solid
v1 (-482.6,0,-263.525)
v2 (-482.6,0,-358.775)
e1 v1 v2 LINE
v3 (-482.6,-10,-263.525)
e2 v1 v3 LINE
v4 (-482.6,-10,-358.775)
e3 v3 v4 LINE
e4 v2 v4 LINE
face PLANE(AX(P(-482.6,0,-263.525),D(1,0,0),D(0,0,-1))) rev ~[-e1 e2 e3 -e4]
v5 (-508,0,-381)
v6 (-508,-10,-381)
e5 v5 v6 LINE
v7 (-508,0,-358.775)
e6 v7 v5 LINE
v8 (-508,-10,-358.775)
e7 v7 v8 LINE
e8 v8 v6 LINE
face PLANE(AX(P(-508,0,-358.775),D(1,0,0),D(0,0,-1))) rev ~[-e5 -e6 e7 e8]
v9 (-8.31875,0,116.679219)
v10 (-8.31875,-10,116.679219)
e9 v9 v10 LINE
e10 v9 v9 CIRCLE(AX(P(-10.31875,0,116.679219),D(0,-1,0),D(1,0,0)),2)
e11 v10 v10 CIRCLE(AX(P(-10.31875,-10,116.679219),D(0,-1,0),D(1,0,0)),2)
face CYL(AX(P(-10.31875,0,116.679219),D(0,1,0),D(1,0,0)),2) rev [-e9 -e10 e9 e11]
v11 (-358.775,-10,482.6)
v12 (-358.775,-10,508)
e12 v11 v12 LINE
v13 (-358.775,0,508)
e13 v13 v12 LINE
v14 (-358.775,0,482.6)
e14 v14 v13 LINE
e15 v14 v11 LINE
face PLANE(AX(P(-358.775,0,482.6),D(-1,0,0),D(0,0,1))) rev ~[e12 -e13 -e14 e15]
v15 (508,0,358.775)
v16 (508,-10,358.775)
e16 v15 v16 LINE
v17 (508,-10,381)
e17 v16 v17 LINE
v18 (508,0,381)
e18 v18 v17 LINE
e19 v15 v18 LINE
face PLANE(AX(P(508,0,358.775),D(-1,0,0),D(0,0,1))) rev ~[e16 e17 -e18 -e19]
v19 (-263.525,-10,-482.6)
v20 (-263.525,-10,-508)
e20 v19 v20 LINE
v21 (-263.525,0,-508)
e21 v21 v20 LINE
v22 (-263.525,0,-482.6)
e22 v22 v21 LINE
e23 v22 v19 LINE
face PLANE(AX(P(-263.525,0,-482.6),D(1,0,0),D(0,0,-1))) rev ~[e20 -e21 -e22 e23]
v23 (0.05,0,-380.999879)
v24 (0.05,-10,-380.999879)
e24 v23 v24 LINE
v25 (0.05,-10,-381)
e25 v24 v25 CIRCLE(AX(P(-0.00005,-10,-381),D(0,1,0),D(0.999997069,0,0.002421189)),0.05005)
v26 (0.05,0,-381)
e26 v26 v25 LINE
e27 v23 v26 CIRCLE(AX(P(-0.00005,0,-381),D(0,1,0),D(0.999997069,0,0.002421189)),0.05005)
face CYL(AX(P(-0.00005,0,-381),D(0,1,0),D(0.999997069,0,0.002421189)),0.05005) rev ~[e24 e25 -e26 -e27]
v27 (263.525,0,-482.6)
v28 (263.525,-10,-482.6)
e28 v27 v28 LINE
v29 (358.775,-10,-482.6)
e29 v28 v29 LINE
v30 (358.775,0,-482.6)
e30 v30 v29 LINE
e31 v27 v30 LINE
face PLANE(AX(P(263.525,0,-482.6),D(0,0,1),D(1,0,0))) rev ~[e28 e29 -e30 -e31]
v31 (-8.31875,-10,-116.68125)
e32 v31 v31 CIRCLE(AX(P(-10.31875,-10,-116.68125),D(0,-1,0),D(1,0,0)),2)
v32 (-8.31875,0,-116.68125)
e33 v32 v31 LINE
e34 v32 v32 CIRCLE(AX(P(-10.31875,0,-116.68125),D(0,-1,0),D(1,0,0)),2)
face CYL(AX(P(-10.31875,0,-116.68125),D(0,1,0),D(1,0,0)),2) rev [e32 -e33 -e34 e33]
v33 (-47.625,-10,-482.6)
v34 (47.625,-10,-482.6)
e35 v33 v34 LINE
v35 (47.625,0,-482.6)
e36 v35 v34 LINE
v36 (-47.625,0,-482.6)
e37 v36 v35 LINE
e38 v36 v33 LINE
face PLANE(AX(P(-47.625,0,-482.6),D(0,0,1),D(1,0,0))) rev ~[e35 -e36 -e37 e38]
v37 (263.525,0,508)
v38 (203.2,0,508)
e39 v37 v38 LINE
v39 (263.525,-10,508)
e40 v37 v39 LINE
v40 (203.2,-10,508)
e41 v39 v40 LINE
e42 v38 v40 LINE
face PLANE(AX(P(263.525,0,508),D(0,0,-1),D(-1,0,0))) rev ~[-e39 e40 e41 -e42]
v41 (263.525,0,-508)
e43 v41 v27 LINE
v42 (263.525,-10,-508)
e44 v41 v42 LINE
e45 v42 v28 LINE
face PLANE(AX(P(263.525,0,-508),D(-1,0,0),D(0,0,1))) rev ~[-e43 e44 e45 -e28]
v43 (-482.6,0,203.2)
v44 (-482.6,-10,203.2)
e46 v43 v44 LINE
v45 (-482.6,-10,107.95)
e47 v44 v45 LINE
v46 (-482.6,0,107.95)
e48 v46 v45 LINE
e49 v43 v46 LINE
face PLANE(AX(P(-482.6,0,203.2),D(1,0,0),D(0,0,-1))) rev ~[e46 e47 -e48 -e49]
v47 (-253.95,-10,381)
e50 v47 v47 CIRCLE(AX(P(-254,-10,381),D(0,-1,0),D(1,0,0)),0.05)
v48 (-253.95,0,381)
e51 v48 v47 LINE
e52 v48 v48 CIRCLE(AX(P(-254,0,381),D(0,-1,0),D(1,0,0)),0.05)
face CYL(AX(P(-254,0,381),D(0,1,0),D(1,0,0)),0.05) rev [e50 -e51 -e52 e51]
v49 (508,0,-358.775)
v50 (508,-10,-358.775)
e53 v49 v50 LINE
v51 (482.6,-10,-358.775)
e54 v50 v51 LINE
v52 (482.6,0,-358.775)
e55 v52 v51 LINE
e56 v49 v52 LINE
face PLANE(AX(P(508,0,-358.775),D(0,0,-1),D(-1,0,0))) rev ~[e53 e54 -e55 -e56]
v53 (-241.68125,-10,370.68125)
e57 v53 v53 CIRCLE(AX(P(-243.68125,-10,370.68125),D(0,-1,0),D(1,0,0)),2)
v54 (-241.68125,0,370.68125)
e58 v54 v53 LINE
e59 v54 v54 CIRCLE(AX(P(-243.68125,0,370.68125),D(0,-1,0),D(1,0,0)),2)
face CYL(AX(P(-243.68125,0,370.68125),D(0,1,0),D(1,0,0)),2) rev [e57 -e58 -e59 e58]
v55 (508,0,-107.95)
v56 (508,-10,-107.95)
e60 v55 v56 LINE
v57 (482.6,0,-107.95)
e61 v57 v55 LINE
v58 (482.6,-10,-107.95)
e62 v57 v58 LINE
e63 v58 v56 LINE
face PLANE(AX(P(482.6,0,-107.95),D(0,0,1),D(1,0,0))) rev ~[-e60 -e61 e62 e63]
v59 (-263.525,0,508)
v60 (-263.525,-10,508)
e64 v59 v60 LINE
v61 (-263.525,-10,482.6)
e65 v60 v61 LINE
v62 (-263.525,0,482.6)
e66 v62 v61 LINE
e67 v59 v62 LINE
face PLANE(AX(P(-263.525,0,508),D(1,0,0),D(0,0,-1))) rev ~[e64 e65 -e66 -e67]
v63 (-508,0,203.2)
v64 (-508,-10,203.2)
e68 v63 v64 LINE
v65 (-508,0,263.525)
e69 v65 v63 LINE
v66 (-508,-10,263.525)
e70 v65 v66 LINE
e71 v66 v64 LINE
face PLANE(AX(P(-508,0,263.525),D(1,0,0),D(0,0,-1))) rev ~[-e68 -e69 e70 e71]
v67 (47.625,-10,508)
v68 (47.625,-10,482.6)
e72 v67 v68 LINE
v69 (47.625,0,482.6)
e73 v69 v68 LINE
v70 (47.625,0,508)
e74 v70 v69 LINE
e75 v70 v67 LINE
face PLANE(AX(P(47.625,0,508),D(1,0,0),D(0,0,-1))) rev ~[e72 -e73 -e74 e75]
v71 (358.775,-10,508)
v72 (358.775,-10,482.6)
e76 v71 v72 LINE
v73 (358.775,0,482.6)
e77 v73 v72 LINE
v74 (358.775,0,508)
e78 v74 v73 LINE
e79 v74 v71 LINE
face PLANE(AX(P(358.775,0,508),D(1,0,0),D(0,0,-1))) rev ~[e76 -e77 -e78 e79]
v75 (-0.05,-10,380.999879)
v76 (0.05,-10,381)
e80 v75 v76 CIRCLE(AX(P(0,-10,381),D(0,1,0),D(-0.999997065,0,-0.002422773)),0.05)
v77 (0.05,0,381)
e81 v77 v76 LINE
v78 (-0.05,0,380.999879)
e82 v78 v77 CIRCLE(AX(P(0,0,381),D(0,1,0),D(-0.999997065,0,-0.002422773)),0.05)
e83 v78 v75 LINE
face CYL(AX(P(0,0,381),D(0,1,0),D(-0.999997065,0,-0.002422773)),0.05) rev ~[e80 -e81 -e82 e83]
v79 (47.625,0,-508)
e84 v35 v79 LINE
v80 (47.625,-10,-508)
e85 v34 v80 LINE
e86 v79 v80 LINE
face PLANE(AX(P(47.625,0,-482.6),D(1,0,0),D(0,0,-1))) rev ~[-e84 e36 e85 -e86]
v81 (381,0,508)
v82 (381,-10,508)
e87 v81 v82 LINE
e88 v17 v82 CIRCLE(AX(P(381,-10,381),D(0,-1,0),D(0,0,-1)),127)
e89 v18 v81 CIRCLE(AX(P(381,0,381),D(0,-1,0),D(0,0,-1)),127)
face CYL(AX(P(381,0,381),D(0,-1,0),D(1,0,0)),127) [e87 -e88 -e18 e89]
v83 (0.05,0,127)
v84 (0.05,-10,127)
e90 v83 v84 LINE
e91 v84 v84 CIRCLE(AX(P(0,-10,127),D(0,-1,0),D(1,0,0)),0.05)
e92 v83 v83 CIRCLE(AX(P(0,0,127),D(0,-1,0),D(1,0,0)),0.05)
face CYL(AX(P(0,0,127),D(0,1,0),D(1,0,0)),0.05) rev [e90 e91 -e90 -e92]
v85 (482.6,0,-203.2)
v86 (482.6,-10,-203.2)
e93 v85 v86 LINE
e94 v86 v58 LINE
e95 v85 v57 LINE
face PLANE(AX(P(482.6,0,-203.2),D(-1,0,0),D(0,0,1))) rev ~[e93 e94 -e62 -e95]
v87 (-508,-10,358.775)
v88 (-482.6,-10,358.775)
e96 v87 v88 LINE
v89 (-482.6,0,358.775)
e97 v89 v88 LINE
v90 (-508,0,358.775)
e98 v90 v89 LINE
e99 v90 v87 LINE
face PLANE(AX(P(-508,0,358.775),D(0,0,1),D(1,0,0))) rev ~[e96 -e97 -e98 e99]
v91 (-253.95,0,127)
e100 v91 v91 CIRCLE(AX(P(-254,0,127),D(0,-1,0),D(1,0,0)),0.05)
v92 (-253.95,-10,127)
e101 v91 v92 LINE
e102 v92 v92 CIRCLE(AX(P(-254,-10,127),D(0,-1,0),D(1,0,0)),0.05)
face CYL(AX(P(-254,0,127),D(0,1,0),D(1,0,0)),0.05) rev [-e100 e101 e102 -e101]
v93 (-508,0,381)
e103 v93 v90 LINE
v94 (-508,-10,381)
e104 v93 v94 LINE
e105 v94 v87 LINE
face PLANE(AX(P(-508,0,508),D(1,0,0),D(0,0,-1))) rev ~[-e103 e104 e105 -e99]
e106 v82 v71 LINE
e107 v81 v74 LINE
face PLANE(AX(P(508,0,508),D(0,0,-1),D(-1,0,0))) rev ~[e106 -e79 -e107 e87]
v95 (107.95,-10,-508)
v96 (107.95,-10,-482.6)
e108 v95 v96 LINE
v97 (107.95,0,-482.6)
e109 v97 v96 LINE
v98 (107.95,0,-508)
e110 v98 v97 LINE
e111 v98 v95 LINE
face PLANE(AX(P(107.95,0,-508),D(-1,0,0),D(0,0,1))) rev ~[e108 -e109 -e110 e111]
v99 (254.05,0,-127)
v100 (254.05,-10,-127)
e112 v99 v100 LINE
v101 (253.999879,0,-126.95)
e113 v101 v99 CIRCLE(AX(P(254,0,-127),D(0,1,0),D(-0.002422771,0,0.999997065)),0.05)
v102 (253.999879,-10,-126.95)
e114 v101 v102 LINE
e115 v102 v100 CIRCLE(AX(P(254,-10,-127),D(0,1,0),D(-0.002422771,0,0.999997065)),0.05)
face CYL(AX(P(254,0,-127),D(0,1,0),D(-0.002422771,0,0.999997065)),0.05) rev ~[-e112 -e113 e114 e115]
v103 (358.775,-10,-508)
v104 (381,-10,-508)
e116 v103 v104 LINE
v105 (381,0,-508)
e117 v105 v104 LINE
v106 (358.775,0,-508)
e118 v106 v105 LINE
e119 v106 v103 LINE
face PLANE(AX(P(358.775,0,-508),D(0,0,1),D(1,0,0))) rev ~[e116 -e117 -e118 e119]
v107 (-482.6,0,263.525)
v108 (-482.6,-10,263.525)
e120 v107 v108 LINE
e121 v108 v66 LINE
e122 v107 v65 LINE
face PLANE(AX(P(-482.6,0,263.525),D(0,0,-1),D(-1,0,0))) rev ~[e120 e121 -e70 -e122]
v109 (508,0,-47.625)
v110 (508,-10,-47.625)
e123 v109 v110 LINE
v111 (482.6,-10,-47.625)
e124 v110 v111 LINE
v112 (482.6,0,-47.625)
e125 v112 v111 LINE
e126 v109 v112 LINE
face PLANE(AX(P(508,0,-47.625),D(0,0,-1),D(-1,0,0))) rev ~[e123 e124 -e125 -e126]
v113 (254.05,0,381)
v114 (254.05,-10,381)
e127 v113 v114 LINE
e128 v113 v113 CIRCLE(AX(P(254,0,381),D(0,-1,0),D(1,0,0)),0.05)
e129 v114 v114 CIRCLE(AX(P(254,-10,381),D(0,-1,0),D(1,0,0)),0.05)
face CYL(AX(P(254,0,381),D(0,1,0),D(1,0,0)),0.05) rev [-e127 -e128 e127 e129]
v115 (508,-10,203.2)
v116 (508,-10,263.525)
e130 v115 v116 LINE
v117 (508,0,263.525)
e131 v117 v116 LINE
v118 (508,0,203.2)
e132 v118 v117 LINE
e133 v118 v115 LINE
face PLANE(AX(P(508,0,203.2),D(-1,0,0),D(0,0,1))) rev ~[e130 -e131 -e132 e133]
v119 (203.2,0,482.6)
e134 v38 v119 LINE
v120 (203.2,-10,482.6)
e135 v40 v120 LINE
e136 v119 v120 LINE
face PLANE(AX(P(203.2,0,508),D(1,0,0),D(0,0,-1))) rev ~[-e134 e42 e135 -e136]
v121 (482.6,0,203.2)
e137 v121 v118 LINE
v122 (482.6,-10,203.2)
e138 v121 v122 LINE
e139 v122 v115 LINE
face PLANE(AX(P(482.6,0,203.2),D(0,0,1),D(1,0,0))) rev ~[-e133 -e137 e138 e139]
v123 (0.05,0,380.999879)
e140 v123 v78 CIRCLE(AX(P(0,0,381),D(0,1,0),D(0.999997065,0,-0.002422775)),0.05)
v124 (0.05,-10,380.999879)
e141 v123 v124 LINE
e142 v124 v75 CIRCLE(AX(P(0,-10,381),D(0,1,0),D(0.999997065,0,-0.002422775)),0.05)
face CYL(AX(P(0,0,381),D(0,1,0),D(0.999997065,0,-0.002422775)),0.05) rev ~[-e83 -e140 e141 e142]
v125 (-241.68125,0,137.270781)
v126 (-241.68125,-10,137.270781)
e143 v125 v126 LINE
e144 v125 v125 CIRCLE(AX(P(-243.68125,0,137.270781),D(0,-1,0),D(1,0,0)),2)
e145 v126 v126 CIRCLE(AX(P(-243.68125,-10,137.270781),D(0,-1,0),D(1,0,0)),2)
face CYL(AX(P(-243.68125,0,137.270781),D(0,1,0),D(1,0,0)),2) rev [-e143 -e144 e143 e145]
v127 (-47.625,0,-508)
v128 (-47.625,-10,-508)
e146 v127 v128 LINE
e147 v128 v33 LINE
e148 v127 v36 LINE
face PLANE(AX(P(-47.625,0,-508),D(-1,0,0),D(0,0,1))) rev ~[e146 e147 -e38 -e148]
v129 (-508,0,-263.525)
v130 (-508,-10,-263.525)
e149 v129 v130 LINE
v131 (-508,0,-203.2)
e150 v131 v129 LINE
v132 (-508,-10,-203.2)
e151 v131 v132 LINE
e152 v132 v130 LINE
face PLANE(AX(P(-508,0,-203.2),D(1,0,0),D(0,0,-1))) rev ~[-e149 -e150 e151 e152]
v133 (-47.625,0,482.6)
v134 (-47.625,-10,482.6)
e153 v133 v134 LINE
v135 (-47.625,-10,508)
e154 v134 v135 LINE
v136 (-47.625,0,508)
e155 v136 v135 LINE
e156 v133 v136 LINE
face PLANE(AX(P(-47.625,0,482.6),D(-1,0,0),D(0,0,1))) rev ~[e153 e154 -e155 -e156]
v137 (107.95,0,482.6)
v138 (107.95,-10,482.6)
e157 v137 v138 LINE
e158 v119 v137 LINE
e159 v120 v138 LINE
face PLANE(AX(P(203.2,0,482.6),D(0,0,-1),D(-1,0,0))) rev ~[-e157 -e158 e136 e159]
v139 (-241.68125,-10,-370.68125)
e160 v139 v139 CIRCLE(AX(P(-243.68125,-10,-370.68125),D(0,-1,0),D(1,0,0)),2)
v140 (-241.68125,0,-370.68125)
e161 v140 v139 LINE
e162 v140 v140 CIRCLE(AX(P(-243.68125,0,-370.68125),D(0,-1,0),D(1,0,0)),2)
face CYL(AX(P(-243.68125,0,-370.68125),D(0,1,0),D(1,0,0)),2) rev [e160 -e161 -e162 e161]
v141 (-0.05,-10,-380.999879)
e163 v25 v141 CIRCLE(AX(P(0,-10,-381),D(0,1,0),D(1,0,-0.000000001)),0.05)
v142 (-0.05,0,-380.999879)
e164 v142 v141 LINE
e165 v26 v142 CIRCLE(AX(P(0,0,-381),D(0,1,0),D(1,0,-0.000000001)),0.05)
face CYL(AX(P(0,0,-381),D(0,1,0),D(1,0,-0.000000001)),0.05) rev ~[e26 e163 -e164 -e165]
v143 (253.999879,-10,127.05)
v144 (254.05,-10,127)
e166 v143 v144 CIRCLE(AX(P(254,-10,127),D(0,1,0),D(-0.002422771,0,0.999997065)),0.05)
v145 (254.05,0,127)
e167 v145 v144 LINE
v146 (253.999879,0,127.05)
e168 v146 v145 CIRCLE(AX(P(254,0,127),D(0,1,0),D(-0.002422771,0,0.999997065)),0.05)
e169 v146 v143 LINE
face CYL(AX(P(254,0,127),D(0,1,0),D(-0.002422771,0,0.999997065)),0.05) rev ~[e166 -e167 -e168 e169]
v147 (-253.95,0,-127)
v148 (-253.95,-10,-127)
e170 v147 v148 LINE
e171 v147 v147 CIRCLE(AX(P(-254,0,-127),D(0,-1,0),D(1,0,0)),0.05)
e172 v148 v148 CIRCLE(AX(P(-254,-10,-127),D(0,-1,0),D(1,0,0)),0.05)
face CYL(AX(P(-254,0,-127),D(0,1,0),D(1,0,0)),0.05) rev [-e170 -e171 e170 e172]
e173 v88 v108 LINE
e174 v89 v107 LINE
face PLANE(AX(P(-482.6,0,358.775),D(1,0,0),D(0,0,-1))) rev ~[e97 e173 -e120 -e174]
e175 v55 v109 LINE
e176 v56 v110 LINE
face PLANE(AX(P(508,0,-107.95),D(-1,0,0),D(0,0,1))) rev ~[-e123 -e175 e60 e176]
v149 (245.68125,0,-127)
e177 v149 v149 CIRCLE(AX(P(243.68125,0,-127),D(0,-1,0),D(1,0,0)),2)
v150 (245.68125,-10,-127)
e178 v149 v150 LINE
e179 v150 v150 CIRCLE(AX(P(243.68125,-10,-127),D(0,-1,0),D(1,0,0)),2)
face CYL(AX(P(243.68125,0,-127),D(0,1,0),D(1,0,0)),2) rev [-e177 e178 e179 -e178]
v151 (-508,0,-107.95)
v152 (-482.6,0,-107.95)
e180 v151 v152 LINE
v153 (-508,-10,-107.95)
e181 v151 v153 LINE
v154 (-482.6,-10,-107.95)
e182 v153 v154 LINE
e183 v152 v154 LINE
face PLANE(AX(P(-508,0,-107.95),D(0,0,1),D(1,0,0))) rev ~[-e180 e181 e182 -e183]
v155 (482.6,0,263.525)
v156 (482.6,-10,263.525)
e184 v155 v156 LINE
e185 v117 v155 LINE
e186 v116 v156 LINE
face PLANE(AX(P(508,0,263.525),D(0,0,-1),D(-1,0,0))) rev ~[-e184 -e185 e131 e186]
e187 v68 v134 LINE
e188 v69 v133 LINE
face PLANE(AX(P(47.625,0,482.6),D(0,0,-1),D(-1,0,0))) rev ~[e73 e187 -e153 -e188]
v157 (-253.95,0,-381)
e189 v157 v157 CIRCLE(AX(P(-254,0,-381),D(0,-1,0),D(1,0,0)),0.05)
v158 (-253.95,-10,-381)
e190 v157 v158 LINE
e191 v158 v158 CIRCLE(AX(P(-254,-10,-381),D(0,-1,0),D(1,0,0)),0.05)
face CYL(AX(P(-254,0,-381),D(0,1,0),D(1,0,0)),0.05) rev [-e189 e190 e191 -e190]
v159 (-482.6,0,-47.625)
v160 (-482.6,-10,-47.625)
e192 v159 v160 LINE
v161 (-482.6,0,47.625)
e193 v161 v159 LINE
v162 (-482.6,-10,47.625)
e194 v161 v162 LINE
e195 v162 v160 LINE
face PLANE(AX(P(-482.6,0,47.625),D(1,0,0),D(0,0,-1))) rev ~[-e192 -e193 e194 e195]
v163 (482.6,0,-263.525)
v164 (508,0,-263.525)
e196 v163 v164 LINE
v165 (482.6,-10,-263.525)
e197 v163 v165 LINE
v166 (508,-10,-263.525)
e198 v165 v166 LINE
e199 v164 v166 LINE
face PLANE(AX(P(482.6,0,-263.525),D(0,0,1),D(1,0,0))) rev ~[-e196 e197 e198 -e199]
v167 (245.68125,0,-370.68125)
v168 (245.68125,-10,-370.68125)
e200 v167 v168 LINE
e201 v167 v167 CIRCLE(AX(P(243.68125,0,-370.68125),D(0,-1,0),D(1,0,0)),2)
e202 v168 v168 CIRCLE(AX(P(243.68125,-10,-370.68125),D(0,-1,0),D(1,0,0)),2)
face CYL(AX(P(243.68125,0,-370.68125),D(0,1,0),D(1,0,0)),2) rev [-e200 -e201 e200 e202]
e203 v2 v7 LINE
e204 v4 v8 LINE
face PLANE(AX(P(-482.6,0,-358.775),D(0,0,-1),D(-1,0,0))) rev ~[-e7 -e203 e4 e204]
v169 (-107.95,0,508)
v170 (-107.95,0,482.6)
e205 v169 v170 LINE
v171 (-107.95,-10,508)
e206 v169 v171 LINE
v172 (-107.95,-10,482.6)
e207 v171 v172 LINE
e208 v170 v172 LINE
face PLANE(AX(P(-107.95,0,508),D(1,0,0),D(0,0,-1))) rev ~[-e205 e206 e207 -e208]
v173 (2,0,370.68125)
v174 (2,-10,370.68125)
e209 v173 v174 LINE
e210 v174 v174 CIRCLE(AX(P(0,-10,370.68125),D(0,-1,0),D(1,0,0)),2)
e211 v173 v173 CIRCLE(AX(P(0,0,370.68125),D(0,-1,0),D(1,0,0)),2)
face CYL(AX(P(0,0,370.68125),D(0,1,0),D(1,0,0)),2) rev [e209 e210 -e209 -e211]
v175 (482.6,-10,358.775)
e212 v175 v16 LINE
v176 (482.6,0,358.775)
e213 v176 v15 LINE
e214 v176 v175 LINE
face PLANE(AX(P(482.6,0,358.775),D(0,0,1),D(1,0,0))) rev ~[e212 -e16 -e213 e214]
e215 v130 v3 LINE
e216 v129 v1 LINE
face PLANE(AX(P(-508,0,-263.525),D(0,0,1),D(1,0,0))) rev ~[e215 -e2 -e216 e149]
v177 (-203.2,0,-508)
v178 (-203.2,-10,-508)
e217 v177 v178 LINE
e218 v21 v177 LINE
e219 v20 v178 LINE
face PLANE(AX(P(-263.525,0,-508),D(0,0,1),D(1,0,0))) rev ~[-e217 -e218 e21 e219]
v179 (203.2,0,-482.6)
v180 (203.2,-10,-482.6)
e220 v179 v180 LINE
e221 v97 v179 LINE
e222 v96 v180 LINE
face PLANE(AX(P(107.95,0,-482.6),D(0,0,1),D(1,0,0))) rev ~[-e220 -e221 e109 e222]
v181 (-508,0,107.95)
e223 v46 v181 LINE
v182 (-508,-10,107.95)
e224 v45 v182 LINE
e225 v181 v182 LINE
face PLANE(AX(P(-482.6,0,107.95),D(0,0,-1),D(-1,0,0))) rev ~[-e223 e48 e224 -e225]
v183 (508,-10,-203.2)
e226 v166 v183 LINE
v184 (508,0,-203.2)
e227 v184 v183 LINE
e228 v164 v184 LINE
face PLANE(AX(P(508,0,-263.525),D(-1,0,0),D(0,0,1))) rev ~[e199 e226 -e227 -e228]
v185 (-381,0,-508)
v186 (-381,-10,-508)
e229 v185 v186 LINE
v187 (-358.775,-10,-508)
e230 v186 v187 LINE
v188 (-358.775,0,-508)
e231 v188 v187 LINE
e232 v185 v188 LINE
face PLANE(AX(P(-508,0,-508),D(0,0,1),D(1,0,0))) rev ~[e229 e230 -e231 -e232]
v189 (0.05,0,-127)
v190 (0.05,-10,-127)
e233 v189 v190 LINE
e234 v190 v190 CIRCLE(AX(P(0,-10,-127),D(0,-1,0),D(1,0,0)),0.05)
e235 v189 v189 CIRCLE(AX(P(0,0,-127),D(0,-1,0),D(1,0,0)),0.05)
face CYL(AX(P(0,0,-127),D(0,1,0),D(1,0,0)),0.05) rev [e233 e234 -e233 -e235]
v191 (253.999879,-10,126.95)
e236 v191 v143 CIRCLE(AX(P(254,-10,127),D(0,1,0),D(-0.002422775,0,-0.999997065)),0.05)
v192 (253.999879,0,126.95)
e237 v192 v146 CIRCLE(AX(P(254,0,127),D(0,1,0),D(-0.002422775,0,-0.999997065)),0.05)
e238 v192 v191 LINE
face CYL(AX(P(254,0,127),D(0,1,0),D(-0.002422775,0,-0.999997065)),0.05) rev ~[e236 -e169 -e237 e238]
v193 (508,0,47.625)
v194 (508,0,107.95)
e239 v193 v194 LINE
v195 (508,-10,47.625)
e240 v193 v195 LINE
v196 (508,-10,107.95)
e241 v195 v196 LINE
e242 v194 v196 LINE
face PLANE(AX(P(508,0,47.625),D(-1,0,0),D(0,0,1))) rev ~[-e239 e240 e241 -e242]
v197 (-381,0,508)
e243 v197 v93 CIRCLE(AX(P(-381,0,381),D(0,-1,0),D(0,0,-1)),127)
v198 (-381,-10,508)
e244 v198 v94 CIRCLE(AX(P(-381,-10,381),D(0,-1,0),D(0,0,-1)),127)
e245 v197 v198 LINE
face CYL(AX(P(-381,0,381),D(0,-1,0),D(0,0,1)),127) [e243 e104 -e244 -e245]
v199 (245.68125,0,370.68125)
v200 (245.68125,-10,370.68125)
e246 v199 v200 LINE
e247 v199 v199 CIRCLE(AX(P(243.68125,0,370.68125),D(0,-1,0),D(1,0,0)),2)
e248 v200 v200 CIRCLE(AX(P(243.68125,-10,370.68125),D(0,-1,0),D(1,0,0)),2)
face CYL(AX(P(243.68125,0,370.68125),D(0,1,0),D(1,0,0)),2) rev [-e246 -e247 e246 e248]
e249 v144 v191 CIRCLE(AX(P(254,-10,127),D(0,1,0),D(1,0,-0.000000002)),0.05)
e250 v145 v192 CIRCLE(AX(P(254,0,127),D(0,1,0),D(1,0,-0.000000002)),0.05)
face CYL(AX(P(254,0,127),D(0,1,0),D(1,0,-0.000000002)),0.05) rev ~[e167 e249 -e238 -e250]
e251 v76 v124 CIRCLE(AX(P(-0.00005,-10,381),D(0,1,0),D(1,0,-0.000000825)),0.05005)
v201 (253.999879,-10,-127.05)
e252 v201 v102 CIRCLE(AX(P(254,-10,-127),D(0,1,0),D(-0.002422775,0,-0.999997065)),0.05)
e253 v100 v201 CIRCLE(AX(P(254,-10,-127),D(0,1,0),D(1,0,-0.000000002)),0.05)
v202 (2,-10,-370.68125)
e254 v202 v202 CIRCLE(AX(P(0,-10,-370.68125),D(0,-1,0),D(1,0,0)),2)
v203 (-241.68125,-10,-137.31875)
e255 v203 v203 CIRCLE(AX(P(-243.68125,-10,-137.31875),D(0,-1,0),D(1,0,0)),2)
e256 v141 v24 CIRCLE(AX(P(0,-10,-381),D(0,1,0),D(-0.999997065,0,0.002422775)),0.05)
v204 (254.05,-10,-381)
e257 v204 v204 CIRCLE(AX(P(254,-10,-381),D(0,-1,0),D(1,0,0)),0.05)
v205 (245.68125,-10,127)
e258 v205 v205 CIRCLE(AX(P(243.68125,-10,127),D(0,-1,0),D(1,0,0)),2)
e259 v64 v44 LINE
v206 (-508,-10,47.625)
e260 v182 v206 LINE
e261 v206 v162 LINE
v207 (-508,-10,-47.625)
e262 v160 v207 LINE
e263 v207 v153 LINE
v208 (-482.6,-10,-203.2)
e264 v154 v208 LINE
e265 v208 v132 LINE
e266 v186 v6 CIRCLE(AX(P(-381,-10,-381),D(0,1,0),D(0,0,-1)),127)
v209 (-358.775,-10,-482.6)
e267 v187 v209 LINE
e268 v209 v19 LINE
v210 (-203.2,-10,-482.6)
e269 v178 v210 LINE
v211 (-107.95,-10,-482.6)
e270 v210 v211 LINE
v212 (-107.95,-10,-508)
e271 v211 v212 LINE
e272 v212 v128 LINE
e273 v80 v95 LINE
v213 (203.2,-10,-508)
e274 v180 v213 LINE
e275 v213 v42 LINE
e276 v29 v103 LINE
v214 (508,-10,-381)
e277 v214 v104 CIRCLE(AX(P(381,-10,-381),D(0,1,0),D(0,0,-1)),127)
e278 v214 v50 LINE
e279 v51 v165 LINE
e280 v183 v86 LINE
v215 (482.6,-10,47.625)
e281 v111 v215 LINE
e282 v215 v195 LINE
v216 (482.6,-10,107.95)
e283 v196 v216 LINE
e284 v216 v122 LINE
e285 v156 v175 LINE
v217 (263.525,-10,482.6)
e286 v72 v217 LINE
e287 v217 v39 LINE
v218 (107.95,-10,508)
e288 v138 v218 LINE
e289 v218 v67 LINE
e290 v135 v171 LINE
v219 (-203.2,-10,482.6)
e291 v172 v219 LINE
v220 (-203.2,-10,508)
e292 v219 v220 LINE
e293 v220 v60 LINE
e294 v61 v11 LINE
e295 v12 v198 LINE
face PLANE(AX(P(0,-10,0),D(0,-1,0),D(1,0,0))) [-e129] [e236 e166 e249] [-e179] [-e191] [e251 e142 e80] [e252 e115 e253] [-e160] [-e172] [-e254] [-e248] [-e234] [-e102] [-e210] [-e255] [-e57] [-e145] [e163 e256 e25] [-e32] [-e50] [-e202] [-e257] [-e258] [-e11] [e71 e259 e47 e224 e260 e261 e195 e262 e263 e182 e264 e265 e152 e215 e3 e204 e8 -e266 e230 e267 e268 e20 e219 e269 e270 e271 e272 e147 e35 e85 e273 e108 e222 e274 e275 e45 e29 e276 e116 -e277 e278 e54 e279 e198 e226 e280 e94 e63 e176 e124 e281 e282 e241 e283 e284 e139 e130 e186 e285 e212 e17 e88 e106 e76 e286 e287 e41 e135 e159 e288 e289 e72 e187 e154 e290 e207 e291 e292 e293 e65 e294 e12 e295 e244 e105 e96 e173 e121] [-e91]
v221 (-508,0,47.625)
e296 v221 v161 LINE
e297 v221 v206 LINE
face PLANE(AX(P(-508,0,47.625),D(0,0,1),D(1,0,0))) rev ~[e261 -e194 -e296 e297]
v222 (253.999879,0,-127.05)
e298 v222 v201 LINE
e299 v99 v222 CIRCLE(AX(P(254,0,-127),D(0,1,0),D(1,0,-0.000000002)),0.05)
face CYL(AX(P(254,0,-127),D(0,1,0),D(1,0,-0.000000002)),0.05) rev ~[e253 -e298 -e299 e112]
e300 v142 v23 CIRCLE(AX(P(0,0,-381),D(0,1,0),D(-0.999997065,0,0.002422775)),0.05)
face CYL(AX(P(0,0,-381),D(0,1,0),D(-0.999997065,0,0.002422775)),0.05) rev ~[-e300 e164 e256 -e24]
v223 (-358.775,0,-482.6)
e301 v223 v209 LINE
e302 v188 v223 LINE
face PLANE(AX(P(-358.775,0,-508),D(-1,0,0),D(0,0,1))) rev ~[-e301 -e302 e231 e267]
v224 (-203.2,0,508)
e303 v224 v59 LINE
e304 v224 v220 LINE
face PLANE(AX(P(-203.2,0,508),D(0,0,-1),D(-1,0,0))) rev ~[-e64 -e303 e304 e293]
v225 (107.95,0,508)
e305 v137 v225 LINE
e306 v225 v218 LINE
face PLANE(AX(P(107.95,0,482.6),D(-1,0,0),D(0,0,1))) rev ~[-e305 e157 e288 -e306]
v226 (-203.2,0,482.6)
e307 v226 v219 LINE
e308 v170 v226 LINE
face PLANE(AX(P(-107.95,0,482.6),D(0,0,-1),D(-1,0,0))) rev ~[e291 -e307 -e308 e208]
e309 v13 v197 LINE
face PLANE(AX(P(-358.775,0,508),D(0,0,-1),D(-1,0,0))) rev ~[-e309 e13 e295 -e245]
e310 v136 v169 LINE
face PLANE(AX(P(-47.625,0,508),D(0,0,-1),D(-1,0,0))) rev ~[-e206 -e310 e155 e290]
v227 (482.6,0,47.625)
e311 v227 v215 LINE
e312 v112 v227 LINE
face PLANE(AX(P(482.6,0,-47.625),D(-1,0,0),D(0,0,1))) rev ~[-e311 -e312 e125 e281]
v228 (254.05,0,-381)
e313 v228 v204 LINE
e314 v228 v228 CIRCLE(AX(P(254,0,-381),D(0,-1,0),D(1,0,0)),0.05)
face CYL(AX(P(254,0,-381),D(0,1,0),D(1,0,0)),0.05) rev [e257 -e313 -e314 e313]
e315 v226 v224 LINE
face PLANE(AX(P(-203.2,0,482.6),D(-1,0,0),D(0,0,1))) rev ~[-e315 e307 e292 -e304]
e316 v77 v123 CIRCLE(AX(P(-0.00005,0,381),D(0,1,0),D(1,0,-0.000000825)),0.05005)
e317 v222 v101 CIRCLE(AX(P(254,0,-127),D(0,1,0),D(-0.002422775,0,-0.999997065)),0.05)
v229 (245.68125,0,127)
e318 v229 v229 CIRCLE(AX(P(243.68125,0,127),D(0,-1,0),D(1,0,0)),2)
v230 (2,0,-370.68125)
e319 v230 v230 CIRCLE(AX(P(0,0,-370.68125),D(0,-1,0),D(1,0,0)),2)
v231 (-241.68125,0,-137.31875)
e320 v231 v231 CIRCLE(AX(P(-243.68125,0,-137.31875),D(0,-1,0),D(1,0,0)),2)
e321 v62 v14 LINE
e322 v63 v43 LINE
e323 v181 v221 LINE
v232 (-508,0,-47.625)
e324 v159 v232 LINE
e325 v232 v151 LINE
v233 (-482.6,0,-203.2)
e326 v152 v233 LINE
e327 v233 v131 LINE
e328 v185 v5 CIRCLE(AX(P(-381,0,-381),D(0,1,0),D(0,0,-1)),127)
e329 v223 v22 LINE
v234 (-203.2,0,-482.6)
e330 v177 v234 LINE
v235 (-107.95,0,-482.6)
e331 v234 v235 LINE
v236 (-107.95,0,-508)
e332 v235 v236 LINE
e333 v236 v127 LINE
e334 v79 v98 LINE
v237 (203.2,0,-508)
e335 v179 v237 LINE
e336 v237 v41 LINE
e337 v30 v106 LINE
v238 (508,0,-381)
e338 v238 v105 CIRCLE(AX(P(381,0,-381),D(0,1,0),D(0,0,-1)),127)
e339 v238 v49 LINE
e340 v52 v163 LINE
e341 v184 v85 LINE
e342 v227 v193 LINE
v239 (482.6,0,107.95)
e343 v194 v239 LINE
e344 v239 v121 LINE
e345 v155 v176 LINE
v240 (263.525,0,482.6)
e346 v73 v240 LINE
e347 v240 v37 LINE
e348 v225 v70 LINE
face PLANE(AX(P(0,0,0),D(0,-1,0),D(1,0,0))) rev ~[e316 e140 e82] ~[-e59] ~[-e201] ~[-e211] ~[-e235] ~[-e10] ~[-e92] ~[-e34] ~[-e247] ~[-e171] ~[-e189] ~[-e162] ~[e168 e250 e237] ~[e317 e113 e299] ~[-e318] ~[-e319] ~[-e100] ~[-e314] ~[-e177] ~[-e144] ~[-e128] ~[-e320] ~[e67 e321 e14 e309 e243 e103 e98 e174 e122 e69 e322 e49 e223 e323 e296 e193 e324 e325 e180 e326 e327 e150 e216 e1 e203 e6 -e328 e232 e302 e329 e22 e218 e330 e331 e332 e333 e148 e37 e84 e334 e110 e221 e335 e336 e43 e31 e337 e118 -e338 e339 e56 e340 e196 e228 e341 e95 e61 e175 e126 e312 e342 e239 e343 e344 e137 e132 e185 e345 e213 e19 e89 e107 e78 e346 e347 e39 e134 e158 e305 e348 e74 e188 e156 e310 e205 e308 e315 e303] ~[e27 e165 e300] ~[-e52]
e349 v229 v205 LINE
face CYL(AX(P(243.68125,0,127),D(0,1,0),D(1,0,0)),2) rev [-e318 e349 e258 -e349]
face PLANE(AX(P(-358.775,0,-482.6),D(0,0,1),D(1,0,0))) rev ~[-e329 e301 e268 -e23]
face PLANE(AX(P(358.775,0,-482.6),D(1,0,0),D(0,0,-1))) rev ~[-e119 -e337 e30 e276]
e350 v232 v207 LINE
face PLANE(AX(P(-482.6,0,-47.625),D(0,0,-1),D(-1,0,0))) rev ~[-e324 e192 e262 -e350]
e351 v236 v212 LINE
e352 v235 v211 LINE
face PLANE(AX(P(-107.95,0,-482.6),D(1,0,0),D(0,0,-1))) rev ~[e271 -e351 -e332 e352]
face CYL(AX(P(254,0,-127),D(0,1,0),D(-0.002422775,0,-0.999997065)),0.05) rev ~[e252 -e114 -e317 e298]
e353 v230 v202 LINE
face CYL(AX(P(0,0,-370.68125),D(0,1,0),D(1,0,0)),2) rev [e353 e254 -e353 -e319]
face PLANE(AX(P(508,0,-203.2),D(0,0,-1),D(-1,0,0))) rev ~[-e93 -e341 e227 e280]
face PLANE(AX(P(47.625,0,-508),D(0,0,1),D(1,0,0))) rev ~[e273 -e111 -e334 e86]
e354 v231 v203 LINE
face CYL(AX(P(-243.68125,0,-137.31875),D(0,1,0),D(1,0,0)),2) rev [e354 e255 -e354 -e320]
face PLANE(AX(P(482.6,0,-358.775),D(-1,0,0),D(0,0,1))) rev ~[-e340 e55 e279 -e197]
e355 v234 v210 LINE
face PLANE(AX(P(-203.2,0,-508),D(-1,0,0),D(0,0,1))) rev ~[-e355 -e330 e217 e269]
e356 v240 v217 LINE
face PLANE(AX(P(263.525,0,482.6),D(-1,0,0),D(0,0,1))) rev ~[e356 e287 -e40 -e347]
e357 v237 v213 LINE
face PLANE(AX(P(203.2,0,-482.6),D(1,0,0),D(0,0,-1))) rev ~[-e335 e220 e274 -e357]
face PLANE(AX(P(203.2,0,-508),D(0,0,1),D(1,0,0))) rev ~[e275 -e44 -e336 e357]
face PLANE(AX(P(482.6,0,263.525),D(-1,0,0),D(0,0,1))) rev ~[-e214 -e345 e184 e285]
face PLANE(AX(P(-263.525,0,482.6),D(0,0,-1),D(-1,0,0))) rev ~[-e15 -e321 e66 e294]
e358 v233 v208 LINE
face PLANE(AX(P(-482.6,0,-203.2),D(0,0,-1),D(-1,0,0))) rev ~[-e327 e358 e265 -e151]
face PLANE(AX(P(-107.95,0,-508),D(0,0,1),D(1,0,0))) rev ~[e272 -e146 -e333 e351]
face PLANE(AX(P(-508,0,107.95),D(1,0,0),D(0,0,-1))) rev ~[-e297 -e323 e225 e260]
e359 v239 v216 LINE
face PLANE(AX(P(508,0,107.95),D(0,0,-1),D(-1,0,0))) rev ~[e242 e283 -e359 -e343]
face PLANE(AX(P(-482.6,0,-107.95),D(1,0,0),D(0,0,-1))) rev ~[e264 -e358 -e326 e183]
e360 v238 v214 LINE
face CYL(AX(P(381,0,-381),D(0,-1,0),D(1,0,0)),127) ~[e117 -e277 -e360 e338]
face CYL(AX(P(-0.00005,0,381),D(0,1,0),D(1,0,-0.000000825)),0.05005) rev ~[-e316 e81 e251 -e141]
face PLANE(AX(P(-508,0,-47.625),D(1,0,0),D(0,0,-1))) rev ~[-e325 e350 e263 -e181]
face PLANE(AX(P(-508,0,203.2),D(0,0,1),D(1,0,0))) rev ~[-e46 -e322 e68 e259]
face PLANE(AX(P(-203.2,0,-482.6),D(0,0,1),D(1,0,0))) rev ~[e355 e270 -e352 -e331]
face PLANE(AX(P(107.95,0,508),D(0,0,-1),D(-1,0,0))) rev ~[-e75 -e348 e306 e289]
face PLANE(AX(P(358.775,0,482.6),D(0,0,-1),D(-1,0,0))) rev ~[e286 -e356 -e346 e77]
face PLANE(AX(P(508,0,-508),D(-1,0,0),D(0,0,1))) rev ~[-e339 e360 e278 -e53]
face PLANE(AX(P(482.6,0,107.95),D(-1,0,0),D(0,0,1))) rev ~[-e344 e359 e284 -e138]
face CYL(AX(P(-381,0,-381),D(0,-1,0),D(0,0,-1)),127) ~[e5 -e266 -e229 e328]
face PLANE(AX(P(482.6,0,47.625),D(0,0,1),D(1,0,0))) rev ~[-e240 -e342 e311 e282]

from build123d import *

# Parameters (mm, degrees)
F0_R     = 0.05
F0_R_2   = 10.31875
F0_R_3   = 2
F1_DEPTH = 10
F2_R     = 127


with BuildPart() as f1:
    # F0 (on Front) → F1 (new body)
    with BuildSketch(Plane.XZ):
        Polygon((508, 358.775), (508, 508), (358.775, 508), (358.775, 482.6), (263.525, 482.6), (263.525, 508), (203.2, 508), (203.2, 482.6), (107.95, 482.6), (107.95, 508), (47.625, 508), (47.625, 482.6), (-47.625, 482.6), (-47.625, 508), (-107.95, 508), (-107.95, 482.6), (-203.2, 482.6), (-203.2, 508), (-263.525, 508), (-263.525, 482.6), (-358.775, 482.6), (-358.775, 508), (-508, 508), (-508, 358.775), (-482.6, 358.775), (-482.6, 263.525), (-508, 263.525), (-508, 203.2), (-482.6, 203.2), (-482.6, 107.95), (-508, 107.95), (-508, 47.625), (-482.6, 47.625), (-482.6, -47.625), (-508, -47.625), (-508, -107.95), (-482.6, -107.95), (-482.6, -203.2), (-508, -203.2), (-508, -263.525), (-482.6, -263.525), (-482.6, -358.775), (-508, -358.775), (-508, -508), (-358.775, -508), (-358.775, -482.6), (-263.525, -482.6), (-263.525, -508), (-203.2, -508), (-203.2, -482.6), (-107.95, -482.6), (-107.95, -508), (-47.625, -508), (-47.625, -482.6), (47.625, -482.6), (47.625, -508), (107.95, -508), (107.95, -482.6), (203.2, -482.6), (203.2, -508), (263.525, -508), (263.525, -482.6), (358.775, -482.6), (358.775, -508), (508, -508), (508, -358.775), (482.6, -358.775), (482.6, -263.525), (508, -263.525), (508, -203.2), (482.6, -203.2), (482.6, -107.95), (508, -107.95), (508, -47.625), (482.6, -47.625), (482.6, 47.625), (508, 47.625), (508, 107.95), (482.6, 107.95), (482.6, 203.2), (508, 203.2), (508, 263.525), (482.6, 263.525), (482.6, 358.775), align=None)
        with Locations((-254, -381)):
            Circle(F0_R, mode=Mode.SUBTRACT)
        with Locations((-243.68125, -370.68125)):
            Circle(F0_R_2, mode=Mode.SUBTRACT)
        with Locations((-243.68125, -137.31875)):
            Circle(F0_R_2, mode=Mode.SUBTRACT)
        with Locations((-254, -127)):
            Circle(F0_R, mode=Mode.SUBTRACT)
        with Locations((-10.31875, -116.68125)):
            Circle(F0_R_2, mode=Mode.SUBTRACT)
        with BuildLine():
            ThreePointArc((0.0499998533, -380.9998788613), (0.0499999633, -380.9999394306), (0.05, -381))
            ThreePointArc((0.05, -381), (-6.05694e-05, -381.0499999633), (-0.0499998533, -380.9998788613))
            ThreePointArc((-0.0499998533, -380.9998788613), (-7.2787590143, -363.3671356466), (10.31875, -370.68125))
            ThreePointArc((10.31875, -370.68125), (7.3141143534, -377.9600090143), (0.0499998533, -380.9998788613))
        make_face(mode=Mode.SUBTRACT)
        with Locations((243.68125, -370.68125)):
            Circle(F0_R_2, mode=Mode.SUBTRACT)
        with Locations((254, -381)):
            Circle(F0_R, mode=Mode.SUBTRACT)
        with Locations((0, -127)):
            Circle(F0_R, mode=Mode.SUBTRACT)
        with BuildLine():
            ThreePointArc((253.9998788613, -126.9500001467), (254.0353124841, -126.9646018579), (254.05, -127))
            ThreePointArc((254.05, -127), (254.0353124841, -127.0353981421), (253.9998788613, -127.0499998533))
            ThreePointArc((253.9998788613, -127.0499998533), (233.3625, -127), (253.9998788613, -126.9500001467))
        make_face(mode=Mode.SUBTRACT)
        with Locations((-10.31875, 116.6792185501)):
            Circle(F0_R_2, mode=Mode.SUBTRACT)
        with Locations((-254, 127)):
            Circle(F0_R, mode=Mode.SUBTRACT)
        with Locations((-243.68125, 137.2707814499)):
            Circle(F0_R_2, mode=Mode.SUBTRACT)
        with Locations((-243.68125, 370.68125)):
            Circle(F0_R_2, mode=Mode.SUBTRACT)
        with Locations((-254, 381)):
            Circle(F0_R, mode=Mode.SUBTRACT)
        with Locations((0, 127)):
            Circle(F0_R, mode=Mode.SUBTRACT)
        with BuildLine():
            ThreePointArc((253.9998788613, 127.0499998533), (254.0353124841, 127.0353981421), (254.05, 127))
            ThreePointArc((254.05, 127), (254.0353124841, 126.9646018579), (253.9998788613, 126.9500001467))
            ThreePointArc((253.9998788613, 126.9500001467), (233.3625, 127), (253.9998788613, 127.0499998533))
        make_face(mode=Mode.SUBTRACT)
        with BuildLine():
            ThreePointArc((-0.0499998533, 380.9998788613), (-6.05694e-05, 381.0499999633), (0.05, 381))
            ThreePointArc((0.05, 381), (0.0499999633, 380.9999394306), (0.0499998533, 380.9998788613))
            ThreePointArc((0.0499998533, 380.9998788613), (7.3141143534, 377.9600090143), (10.31875, 370.68125))
            ThreePointArc((10.31875, 370.68125), (-7.2787590143, 363.3671356466), (-0.0499998533, 380.9998788613))
        make_face(mode=Mode.SUBTRACT)
        with Locations((243.68125, 370.68125)):
            Circle(F0_R_2, mode=Mode.SUBTRACT)
        with Locations((254, 381)):
            Circle(F0_R, mode=Mode.SUBTRACT)
        with Locations((-243.68125, 370.68125)):
            Circle(F0_R_2)
        with Locations((-243.68125, 370.68125)):
            Circle(F0_R_3, mode=Mode.SUBTRACT)
        with BuildLine():
            ThreePointArc((0.0499998533, 380.9998788613), (0, 380.95), (-0.0499998533, 380.9998788613))
            ThreePointArc((-0.0499998533, 380.9998788613), (-7.2787590143, 363.3671356466), (10.31875, 370.68125))
            ThreePointArc((10.31875, 370.68125), (7.3141143534, 377.9600090143), (0.0499998533, 380.9998788613))
        make_face()
        with Locations((0, 370.68125)):
            Circle(F0_R_3, mode=Mode.SUBTRACT)
        with Locations((243.68125, 370.68125)):
            Circle(F0_R_2)
        with Locations((243.68125, 370.68125)):
            Circle(F0_R_3, mode=Mode.SUBTRACT)
        with Locations((-243.68125, 137.2707814499)):
            Circle(F0_R_2)
        with Locations((-243.68125, 137.2707814499)):
            Circle(F0_R_3, mode=Mode.SUBTRACT)
        with Locations((-10.31875, 116.6792185501)):
            Circle(F0_R_2)
        with Locations((-10.31875, 116.6792185501)):
            Circle(F0_R_3, mode=Mode.SUBTRACT)
        with BuildLine():
            ThreePointArc((253.9998788613, 126.9500001467), (253.95, 127), (253.9998788613, 127.0499998533))
            ThreePointArc((253.9998788613, 127.0499998533), (233.3625, 127), (253.9998788613, 126.9500001467))
        make_face()
        with Locations((243.68125, 127)):
            Circle(F0_R_3, mode=Mode.SUBTRACT)
        with Locations((-243.68125, -137.31875)):
            Circle(F0_R_2)
        with Locations((-243.68125, -137.31875)):
            Circle(F0_R_3, mode=Mode.SUBTRACT)
        with Locations((-10.31875, -116.68125)):
            Circle(F0_R_2)
        with Locations((-10.31875, -116.68125)):
            Circle(F0_R_3, mode=Mode.SUBTRACT)
        with BuildLine():
            ThreePointArc((253.9998788613, -127.0499998533), (253.95, -127), (253.9998788613, -126.9500001467))
            ThreePointArc((253.9998788613, -126.9500001467), (233.3625, -127), (253.9998788613, -127.0499998533))
        make_face()
        with Locations((243.68125, -127)):
            Circle(F0_R_3, mode=Mode.SUBTRACT)
        with Locations((243.68125, -370.68125)):
            Circle(F0_R_2)
        with Locations((243.68125, -370.68125)):
            Circle(F0_R_3, mode=Mode.SUBTRACT)
        with BuildLine():
            ThreePointArc((-0.0499998533, -380.9998788613), (0, -380.95), (0.0499998533, -380.9998788613))
            ThreePointArc((0.0499998533, -380.9998788613), (7.3141143534, -377.9600090143), (10.31875, -370.68125))
            ThreePointArc((10.31875, -370.68125), (-7.2787590143, -363.3671356466), (-0.0499998533, -380.9998788613))
        make_face()
        with Locations((0, -370.68125)):
            Circle(F0_R_3, mode=Mode.SUBTRACT)
        with Locations((-243.68125, -370.68125)):
            Circle(F0_R_2)
        with Locations((-243.68125, -370.68125)):
            Circle(F0_R_3, mode=Mode.SUBTRACT)
    extrude(amount=F1_DEPTH)

    # F2
    f2_edges = [f1.edges().sort_by_distance(p)[0] for p in [
        (-508, -5, 508),
        (508, -5, 508),
        (508, -5, -508),
        (-508, -5, -508),
    ]]
    fillet(f2_edges, radius=F2_R)


solid = f1.part
